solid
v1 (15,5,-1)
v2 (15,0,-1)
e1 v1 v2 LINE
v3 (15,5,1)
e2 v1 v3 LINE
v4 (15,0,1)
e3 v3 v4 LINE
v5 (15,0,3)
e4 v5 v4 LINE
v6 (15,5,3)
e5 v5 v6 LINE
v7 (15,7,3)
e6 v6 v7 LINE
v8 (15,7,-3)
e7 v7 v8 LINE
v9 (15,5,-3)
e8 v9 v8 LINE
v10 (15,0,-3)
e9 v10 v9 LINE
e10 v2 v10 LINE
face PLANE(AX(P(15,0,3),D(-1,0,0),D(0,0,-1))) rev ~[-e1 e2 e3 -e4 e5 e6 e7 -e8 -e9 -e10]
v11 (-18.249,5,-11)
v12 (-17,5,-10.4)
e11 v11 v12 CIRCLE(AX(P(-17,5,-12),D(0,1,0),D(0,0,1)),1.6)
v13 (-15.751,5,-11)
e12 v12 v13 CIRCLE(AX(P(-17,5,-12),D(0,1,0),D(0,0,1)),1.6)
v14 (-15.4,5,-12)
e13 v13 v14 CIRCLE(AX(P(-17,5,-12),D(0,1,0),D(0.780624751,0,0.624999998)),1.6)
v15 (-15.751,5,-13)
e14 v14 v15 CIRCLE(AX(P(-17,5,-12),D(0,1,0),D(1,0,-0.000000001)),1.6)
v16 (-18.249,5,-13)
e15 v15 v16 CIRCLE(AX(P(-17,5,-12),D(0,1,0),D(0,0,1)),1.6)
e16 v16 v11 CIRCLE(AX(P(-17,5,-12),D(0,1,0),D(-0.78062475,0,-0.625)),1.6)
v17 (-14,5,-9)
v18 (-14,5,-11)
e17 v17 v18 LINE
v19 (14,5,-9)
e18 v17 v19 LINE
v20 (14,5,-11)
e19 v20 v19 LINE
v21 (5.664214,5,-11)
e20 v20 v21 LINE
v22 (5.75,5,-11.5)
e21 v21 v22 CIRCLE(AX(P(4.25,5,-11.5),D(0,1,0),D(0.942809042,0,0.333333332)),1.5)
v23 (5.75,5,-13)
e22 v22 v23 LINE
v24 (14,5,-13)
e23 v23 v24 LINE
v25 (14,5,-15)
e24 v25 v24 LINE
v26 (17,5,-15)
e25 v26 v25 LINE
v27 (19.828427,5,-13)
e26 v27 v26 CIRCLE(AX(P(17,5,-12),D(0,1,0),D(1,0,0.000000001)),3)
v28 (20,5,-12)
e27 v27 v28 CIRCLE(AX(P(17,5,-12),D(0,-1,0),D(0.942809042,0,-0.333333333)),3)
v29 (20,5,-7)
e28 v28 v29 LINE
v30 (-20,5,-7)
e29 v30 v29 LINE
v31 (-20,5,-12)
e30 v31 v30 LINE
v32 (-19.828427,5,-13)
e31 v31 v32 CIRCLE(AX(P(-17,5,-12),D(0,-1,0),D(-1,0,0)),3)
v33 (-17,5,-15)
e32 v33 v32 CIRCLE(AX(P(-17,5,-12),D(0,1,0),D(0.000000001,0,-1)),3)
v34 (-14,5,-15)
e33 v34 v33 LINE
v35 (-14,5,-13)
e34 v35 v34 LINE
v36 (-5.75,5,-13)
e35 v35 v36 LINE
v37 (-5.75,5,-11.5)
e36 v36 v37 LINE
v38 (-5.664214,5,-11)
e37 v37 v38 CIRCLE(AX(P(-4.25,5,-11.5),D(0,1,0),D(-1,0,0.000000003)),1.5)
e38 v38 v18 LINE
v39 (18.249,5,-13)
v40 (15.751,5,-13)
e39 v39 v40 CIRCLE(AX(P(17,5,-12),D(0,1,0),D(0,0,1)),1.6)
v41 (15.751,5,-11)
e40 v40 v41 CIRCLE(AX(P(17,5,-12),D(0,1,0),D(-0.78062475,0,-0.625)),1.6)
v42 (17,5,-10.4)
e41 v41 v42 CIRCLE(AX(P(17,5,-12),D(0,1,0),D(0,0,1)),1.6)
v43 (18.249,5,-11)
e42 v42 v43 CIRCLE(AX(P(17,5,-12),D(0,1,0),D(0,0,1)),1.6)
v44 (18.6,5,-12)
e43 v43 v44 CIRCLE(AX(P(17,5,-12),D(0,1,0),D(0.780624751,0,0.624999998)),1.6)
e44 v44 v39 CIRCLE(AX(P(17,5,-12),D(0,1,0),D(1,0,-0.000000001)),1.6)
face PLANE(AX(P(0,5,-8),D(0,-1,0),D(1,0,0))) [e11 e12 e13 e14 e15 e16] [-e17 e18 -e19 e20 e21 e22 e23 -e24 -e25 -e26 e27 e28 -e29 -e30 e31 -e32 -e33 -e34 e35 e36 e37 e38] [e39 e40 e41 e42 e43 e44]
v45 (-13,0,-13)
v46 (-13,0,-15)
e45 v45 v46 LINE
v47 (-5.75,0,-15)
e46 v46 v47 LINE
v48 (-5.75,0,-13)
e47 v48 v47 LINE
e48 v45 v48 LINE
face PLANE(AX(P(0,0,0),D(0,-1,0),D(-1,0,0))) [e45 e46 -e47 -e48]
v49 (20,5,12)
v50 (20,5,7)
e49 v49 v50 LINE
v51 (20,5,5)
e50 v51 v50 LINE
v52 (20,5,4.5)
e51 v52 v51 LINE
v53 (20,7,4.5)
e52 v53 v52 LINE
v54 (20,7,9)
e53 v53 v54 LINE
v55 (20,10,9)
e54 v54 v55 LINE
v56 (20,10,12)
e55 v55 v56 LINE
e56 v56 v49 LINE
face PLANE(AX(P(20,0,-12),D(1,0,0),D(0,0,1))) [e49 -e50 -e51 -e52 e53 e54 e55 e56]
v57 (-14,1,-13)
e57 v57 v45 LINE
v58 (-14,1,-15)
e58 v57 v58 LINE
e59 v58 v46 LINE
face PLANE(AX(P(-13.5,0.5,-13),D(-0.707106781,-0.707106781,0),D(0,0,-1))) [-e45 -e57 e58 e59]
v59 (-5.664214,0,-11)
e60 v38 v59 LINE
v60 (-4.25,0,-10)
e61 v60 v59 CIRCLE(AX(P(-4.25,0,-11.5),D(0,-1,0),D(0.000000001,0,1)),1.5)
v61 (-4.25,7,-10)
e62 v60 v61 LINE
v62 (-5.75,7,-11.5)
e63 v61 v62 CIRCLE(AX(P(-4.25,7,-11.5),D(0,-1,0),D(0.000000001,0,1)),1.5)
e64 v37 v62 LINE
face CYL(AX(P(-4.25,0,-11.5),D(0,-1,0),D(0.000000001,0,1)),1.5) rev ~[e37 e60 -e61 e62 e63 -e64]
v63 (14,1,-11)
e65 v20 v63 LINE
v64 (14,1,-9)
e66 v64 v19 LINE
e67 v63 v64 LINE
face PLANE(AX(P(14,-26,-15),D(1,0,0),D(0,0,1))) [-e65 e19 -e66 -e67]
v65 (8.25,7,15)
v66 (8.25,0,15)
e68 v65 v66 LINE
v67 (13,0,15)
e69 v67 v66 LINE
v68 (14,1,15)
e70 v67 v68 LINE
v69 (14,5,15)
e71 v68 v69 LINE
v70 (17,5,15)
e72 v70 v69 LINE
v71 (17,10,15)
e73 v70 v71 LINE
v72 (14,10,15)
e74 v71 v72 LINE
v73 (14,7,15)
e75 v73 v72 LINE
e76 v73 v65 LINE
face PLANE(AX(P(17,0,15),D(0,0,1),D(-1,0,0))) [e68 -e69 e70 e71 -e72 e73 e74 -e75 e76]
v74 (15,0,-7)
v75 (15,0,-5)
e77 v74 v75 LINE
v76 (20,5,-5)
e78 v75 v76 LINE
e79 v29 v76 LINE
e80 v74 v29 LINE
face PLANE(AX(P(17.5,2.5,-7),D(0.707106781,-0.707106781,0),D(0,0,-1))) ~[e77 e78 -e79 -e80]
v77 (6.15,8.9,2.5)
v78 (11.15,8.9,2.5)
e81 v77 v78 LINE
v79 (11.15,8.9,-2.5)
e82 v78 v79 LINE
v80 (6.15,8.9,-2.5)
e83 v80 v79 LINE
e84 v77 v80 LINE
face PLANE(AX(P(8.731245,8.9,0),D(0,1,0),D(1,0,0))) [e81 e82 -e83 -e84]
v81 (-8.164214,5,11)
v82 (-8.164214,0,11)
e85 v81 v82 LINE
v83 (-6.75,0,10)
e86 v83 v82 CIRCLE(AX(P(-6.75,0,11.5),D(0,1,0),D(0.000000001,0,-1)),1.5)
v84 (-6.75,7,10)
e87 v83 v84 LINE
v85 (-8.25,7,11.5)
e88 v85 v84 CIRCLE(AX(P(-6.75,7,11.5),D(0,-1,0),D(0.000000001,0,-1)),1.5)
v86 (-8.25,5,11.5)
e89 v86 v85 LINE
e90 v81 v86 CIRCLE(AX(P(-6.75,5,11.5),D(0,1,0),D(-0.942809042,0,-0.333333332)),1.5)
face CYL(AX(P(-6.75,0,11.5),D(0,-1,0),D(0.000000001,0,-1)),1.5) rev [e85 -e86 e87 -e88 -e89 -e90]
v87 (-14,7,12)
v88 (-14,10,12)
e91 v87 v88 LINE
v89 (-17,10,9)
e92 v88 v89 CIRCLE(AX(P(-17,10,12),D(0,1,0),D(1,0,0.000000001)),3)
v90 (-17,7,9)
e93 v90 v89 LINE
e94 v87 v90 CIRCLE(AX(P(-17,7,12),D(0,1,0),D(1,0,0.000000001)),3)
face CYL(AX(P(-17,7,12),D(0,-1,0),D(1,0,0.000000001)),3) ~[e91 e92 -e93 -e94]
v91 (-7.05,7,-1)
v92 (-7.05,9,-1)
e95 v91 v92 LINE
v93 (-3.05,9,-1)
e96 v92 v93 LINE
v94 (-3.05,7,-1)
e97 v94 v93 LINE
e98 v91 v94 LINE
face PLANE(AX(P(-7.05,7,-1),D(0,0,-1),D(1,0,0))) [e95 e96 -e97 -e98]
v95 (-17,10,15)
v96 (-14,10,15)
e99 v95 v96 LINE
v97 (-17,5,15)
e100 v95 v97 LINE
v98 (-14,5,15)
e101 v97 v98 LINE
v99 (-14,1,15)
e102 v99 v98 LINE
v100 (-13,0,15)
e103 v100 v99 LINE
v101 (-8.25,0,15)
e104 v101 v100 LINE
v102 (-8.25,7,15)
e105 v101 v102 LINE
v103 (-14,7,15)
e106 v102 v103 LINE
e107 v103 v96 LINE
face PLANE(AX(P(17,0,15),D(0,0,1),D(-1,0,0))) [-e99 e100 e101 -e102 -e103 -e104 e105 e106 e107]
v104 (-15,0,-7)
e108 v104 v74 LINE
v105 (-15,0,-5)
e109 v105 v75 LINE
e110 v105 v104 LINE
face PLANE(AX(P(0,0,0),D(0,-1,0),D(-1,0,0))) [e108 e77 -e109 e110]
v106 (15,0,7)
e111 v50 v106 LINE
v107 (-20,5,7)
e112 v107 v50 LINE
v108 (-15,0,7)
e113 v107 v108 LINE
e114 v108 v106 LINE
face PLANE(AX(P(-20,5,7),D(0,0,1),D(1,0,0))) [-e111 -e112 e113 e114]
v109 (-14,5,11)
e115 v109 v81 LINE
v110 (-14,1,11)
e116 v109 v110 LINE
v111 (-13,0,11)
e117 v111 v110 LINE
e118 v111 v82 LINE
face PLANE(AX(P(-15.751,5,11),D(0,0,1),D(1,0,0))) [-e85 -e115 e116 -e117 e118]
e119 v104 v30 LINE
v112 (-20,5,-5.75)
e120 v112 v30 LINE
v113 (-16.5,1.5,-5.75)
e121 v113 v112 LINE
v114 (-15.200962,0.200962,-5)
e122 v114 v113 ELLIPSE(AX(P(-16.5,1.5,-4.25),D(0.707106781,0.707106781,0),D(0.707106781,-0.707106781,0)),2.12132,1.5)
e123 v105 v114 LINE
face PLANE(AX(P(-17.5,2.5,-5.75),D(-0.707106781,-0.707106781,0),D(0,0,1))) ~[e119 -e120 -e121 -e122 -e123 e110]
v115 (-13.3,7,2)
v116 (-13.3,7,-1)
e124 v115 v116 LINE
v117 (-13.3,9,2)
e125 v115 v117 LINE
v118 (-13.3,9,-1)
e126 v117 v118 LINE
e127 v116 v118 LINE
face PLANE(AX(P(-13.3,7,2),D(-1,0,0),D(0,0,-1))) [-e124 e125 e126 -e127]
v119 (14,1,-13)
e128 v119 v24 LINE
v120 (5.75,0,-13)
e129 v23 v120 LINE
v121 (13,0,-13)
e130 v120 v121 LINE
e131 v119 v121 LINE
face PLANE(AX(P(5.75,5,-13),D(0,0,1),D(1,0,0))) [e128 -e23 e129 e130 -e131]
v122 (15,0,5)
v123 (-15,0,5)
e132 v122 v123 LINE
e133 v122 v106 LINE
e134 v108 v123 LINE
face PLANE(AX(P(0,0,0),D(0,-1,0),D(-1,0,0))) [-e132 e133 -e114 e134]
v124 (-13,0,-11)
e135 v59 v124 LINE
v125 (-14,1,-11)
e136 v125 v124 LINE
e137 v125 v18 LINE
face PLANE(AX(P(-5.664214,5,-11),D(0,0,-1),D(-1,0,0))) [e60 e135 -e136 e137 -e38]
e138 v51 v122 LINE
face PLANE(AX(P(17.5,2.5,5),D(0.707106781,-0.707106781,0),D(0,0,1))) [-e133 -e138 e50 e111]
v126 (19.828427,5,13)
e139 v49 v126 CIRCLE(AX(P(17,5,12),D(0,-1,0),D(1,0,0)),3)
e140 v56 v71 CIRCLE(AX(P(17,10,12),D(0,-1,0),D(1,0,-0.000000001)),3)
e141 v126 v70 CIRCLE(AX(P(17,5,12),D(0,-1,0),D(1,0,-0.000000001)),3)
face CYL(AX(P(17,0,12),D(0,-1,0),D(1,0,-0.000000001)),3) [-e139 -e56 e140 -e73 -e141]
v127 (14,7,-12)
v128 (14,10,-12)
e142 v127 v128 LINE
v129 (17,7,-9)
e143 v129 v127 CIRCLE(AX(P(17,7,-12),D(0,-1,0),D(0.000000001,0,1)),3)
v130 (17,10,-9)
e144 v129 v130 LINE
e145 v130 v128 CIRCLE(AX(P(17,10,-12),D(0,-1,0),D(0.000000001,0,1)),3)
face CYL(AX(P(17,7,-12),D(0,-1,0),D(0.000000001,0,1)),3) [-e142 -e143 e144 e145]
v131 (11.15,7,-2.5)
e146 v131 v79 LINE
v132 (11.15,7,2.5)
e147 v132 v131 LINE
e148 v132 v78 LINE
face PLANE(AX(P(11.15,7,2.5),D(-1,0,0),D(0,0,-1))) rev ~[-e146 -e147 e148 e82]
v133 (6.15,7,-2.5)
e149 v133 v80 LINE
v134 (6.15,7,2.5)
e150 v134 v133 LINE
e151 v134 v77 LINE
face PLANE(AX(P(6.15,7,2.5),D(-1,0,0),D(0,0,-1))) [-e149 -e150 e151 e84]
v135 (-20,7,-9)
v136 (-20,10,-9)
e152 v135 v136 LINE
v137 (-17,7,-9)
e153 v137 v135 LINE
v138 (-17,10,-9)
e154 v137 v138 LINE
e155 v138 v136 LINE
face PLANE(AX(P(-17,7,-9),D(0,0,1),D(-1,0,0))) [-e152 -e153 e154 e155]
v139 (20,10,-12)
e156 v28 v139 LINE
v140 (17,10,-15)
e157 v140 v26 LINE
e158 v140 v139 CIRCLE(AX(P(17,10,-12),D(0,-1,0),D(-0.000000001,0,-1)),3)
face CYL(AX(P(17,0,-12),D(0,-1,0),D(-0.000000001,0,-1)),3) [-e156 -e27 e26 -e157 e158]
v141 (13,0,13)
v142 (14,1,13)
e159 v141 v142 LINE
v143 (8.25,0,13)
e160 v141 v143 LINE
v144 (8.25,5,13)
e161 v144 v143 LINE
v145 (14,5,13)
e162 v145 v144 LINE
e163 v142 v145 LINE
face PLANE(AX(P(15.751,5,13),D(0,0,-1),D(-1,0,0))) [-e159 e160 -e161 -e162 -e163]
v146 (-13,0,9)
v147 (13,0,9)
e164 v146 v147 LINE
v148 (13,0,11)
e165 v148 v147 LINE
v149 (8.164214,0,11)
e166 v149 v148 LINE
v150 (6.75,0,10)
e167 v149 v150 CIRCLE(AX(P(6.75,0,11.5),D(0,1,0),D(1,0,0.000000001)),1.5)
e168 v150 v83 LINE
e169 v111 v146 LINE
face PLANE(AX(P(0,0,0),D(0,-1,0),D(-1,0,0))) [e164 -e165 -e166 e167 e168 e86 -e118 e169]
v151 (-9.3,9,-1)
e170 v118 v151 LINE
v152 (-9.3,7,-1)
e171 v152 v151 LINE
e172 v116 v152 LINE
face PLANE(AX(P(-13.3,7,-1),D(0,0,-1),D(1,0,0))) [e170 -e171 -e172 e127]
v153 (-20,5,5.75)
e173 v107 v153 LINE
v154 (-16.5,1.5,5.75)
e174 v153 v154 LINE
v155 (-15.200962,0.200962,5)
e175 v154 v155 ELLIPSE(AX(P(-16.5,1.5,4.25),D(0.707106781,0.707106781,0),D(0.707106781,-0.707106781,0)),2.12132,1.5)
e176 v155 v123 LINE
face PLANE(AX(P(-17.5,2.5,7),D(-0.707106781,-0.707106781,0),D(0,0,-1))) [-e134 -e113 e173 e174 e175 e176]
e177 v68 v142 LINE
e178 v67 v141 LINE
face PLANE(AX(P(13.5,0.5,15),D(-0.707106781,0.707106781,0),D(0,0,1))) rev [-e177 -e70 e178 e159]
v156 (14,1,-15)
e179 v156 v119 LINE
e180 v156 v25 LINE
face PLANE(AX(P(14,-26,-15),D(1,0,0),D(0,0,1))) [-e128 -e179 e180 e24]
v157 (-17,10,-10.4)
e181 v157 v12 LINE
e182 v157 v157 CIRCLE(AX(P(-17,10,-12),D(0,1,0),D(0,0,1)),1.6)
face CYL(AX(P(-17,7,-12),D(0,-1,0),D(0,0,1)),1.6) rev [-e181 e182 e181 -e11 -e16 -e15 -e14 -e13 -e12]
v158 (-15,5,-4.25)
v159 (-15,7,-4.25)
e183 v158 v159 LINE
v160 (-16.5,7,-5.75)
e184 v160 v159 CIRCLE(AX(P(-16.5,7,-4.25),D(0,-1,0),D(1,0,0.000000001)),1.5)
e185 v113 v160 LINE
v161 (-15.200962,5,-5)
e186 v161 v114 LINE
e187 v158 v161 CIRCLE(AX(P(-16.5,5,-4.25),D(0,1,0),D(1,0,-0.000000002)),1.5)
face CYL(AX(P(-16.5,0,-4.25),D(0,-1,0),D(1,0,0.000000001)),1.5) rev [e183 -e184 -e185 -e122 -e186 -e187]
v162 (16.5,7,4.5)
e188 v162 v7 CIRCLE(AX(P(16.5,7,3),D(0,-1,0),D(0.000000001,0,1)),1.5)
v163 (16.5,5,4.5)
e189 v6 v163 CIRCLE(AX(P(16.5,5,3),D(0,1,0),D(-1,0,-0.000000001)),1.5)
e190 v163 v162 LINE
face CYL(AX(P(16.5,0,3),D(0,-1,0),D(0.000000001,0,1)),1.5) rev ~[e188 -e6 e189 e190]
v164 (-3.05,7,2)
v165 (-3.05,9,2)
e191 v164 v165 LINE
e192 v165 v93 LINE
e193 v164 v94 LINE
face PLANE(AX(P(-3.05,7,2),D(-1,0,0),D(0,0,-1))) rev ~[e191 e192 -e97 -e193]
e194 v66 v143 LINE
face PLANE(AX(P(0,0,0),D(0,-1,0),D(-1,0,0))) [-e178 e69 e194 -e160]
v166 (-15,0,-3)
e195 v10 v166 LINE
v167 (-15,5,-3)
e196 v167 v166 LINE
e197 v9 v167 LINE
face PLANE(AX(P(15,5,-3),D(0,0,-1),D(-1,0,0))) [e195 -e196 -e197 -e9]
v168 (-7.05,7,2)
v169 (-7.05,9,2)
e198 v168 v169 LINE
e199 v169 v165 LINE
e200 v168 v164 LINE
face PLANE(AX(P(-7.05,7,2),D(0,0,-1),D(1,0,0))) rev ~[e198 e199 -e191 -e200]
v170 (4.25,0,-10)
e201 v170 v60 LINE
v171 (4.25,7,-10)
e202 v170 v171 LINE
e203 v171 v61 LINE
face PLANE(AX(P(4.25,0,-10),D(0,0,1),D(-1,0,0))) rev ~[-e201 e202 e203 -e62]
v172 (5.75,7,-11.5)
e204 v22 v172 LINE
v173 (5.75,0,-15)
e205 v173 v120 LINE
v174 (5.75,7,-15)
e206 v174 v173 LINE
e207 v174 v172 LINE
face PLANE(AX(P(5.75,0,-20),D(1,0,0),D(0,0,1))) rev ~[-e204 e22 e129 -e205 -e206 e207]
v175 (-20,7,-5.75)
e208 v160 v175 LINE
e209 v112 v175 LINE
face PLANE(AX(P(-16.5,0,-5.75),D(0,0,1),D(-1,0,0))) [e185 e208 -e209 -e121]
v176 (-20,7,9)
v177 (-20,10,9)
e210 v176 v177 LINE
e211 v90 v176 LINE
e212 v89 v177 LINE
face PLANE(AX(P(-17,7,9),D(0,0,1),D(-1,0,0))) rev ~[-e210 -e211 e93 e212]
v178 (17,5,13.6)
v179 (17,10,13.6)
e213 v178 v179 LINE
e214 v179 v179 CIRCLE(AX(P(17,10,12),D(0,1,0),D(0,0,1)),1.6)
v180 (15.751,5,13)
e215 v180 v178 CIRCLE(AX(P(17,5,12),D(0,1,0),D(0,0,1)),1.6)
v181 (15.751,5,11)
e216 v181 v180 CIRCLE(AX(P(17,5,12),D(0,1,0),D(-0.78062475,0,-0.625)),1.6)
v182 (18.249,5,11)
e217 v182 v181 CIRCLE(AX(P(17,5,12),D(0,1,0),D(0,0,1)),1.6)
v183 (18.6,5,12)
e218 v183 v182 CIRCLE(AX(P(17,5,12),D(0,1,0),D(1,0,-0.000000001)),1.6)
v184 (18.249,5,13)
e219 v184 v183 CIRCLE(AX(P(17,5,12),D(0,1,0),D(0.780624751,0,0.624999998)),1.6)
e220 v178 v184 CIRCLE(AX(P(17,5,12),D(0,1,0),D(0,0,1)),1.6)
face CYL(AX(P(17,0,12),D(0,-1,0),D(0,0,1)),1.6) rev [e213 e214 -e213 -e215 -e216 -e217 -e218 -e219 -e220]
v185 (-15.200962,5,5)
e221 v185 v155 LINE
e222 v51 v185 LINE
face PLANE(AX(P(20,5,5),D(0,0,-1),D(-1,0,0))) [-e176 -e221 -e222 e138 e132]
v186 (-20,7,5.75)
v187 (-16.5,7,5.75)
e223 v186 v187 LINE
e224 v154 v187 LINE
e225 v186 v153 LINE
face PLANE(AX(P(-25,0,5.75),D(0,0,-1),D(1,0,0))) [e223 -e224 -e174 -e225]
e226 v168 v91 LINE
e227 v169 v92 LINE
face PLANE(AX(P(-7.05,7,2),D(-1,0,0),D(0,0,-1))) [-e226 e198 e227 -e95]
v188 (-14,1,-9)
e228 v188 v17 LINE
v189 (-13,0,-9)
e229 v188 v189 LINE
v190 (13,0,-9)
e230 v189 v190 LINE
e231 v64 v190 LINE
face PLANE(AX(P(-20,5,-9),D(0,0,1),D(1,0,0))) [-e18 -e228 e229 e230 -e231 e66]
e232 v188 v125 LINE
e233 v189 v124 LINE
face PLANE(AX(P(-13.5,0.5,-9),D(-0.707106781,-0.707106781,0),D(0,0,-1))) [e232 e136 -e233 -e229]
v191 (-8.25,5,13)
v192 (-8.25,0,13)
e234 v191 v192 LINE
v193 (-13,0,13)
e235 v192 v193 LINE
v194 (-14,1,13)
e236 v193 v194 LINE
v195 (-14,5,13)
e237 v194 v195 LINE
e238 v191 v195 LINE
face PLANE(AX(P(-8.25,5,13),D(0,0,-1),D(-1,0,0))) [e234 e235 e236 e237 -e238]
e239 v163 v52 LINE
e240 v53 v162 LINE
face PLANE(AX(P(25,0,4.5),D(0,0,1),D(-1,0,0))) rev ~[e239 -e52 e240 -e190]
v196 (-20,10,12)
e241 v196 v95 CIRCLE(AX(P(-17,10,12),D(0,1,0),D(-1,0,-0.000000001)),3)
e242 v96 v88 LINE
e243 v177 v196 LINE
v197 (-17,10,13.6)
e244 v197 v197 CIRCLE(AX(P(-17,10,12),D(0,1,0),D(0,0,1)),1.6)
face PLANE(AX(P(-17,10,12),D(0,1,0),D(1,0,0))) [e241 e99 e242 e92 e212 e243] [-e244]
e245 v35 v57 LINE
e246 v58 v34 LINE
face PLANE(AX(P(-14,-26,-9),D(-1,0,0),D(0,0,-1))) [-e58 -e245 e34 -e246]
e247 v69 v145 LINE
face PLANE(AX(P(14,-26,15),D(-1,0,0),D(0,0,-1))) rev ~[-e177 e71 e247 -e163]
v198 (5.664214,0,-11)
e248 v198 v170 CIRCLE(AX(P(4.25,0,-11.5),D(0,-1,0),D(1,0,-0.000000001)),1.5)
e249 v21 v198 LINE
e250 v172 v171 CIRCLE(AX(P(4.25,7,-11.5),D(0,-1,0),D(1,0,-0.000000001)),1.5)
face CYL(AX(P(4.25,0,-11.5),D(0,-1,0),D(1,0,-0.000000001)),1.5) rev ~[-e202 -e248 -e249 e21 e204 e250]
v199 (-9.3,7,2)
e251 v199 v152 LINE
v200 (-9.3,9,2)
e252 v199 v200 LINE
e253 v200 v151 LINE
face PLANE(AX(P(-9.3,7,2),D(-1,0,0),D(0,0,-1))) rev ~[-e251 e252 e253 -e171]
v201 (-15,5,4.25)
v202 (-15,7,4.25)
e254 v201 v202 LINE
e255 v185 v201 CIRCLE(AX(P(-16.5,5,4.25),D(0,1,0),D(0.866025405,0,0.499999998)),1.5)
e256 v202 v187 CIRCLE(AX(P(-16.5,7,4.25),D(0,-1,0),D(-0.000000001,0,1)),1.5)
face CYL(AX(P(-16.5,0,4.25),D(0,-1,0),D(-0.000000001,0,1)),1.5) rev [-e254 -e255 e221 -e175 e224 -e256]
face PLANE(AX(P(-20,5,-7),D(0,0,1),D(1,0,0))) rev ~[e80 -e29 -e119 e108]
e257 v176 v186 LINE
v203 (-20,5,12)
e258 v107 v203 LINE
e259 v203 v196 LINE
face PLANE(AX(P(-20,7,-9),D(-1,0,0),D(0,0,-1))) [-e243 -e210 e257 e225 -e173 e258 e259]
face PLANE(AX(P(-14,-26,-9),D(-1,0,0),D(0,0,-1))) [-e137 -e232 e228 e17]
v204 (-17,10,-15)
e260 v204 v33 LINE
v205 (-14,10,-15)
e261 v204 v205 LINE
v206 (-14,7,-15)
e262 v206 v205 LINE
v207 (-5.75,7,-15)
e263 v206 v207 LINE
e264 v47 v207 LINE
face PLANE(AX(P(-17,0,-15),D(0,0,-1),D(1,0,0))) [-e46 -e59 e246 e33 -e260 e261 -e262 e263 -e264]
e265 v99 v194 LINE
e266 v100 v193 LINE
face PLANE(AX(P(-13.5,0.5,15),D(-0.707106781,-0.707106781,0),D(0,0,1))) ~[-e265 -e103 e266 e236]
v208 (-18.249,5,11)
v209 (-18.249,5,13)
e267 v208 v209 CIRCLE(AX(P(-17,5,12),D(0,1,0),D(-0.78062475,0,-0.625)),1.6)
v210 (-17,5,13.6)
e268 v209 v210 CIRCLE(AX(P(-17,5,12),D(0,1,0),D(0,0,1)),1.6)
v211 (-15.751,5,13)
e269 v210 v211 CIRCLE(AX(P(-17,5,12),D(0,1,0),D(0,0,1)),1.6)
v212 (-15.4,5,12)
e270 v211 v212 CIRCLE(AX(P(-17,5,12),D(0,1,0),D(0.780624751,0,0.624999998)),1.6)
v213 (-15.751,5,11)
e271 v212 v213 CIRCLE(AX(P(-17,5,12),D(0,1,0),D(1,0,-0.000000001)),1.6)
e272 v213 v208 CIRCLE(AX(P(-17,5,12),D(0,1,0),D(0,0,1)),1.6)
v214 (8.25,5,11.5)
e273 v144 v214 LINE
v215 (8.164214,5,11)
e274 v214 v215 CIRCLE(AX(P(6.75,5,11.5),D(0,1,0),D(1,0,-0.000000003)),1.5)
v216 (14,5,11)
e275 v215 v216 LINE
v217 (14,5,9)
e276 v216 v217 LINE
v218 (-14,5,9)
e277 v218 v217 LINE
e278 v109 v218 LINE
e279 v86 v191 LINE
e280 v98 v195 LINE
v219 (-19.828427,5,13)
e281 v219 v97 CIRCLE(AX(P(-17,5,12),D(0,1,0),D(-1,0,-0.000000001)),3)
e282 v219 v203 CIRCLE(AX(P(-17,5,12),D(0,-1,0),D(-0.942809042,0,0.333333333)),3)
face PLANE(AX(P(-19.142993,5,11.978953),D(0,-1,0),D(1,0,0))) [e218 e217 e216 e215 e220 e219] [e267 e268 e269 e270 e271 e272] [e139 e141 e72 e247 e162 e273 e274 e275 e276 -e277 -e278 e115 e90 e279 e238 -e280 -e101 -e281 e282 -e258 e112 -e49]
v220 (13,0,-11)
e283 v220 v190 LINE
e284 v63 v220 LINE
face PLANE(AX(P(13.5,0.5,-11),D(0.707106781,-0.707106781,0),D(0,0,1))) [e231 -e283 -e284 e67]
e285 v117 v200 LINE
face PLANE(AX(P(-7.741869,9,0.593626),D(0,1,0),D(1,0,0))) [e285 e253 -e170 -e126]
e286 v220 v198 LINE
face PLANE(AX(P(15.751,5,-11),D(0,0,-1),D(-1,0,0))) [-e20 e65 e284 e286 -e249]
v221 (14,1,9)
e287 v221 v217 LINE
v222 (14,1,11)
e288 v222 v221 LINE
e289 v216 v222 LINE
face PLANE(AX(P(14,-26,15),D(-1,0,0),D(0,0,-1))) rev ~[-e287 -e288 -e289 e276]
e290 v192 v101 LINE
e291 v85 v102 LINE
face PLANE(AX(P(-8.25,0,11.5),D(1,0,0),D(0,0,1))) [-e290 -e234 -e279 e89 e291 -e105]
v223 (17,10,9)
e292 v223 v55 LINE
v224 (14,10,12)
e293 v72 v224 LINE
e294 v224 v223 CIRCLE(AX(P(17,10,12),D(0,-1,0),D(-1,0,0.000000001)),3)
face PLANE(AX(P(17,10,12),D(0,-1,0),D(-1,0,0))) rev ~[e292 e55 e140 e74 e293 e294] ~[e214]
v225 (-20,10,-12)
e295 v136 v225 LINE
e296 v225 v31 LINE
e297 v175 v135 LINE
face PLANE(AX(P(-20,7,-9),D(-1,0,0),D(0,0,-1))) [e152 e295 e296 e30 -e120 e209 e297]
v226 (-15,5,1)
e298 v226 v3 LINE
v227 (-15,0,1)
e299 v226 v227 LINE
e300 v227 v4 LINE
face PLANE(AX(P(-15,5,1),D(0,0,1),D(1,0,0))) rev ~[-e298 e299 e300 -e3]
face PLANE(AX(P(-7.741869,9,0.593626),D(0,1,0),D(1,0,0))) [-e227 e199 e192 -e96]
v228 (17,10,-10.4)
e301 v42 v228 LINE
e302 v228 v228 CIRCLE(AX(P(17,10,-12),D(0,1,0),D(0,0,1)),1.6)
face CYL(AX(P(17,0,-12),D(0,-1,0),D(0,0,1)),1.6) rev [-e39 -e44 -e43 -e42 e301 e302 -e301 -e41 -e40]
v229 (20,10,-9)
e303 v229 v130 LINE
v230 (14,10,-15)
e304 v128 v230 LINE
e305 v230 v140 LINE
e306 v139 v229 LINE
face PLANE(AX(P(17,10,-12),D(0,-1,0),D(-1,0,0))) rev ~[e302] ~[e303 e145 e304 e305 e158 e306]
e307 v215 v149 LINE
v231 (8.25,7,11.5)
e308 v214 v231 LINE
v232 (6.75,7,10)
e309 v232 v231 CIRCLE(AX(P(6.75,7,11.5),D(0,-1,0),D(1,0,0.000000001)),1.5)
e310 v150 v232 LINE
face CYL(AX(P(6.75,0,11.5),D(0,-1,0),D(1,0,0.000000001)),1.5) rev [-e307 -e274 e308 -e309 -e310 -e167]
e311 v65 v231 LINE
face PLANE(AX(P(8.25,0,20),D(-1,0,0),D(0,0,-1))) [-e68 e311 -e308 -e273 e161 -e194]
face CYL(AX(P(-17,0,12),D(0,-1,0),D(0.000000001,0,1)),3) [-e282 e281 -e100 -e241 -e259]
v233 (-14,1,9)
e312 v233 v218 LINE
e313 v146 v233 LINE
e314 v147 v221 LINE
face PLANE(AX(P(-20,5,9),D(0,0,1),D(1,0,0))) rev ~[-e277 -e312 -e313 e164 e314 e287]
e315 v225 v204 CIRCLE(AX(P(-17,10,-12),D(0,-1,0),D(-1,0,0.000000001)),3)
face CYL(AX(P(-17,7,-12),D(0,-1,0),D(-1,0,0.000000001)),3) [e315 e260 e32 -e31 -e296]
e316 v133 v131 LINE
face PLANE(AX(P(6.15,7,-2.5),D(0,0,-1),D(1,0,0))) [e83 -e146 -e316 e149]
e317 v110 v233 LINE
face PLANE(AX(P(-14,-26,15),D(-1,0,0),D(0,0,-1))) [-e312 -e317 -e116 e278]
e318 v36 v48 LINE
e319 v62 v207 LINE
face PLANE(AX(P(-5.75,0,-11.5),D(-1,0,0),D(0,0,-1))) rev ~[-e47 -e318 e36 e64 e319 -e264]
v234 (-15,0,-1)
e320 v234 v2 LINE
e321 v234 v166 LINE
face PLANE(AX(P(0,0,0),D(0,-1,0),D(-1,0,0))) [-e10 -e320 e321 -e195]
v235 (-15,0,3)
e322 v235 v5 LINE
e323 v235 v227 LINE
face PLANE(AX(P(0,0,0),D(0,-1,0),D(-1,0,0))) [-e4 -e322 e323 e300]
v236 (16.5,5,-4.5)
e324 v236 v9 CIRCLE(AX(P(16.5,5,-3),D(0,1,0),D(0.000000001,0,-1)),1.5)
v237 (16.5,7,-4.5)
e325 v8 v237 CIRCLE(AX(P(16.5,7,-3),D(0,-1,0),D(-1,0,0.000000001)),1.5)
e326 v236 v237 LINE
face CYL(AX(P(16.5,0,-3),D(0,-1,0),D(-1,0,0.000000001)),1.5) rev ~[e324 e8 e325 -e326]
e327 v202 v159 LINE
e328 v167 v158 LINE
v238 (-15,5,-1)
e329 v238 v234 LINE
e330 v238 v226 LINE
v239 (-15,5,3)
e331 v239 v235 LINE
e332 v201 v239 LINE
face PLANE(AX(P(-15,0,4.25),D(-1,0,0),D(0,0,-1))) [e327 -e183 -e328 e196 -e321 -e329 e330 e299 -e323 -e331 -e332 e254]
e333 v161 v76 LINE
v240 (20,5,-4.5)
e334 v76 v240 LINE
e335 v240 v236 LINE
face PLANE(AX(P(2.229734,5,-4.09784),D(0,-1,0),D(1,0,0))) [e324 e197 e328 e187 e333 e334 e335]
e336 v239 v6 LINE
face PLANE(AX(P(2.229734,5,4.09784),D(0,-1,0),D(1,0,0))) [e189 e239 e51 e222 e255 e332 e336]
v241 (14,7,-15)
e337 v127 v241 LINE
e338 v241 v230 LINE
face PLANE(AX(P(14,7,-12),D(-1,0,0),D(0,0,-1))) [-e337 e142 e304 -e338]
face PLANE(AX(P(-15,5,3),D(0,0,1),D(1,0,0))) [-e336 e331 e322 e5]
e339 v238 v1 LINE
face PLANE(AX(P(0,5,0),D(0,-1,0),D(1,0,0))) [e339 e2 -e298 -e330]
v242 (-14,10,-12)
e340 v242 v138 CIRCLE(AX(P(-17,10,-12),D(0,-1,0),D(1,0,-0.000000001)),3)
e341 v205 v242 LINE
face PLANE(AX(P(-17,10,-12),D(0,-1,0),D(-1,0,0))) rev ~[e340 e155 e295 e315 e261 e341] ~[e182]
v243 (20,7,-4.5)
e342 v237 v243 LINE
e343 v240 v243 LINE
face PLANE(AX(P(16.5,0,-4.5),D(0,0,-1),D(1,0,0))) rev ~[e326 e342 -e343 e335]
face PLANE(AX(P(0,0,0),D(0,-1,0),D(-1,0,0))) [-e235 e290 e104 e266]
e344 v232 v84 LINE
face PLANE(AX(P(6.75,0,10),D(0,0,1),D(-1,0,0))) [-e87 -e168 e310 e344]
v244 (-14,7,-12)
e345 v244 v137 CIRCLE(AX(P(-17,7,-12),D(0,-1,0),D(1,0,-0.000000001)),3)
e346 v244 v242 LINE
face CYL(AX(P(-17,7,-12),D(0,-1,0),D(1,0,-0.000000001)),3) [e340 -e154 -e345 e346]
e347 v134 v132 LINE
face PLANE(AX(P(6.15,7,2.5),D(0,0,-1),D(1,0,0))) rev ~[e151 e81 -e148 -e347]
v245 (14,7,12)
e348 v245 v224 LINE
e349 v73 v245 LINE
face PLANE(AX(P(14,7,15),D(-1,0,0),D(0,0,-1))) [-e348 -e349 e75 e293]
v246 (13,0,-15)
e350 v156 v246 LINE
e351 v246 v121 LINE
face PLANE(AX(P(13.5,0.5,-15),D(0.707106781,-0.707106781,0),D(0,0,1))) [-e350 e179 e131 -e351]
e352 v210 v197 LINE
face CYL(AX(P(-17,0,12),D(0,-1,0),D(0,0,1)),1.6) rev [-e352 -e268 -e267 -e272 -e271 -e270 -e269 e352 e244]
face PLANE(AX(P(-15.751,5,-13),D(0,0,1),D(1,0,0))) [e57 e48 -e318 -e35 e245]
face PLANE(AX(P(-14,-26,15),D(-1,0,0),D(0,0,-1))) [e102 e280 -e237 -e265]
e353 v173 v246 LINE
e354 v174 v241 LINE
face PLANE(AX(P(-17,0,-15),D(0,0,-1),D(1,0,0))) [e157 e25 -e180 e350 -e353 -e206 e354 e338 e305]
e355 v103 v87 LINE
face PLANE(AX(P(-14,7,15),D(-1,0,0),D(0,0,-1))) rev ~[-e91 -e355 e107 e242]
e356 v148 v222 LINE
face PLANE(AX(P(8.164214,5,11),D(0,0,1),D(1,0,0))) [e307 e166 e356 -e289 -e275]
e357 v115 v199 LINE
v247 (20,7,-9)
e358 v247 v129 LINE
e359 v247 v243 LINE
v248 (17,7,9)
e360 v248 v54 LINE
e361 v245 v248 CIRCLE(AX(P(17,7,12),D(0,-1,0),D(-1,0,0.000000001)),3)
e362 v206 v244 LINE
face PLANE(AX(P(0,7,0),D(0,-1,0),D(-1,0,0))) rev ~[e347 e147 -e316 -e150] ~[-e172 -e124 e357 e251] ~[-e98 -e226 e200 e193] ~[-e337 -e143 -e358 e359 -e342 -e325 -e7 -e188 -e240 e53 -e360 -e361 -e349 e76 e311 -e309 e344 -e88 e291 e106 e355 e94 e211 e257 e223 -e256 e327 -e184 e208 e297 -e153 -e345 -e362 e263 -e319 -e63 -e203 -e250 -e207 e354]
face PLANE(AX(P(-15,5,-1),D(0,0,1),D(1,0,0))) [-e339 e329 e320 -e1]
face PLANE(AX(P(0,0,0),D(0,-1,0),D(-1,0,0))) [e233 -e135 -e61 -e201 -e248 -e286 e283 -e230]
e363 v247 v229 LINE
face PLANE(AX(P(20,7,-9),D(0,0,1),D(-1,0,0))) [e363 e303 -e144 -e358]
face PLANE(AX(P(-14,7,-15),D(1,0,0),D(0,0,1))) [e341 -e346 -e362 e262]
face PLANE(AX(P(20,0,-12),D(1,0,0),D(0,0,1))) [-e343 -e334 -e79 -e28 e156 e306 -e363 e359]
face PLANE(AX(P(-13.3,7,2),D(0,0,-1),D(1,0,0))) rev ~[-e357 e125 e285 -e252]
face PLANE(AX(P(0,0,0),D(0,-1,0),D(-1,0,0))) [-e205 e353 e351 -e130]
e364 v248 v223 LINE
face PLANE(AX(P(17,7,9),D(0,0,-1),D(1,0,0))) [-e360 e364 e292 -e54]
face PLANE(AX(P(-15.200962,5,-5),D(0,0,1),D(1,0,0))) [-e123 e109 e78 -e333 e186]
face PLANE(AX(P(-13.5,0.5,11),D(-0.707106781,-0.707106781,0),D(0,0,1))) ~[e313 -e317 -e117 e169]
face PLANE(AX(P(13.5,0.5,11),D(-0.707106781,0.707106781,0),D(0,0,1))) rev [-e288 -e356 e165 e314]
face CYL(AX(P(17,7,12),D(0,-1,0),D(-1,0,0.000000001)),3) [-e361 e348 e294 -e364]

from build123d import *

# Parameters (mm, degrees)
SKETCH_1_R          = 1.6
EXTRUDE_1_DEPTH     = 7
SKETCH_2_R          = 1.6
SKETCH_2_W          = 5
SKETCH_2_H          = 5
SKETCH_2_W_2        = 4
SKETCH_2_H_2        = 3
EXTRUDE_2_DEPTH     = 3
CUT_EXTRUDE_1_DEPTH = 31
CUT_EXTRUDE_START   = -5
SKETCH_5_W          = 40
SKETCH_5_H          = 2
SKETCH_5_W_2        = 30
CUT_EXTRUDE_2_DEPTH = 5
CUT_EXTRUDE_START_2 = -31
SKETCH_6_R          = 1.6
CUT_EXTRUDE_3_DEPTH = 31
CHAMFER_1_SIZE      = 5
CHAMFER_2_SIZE      = 5
CHAMFER_3_SIZE      = 1
SKETCH_7_W          = 9.893762321
SKETCH_7_H          = 9.992699944
CUT_EXTRUDE_4_DEPTH = 1.1
SKETCH_8_W          = 19.688587018
SKETCH_8_H          = 7.420321741
CUT_EXTRUDE_5_DEPTH = 1


with BuildPart() as part:
    # Эскиз1 → Бобышка-Вытянуть1 (new body)
    with BuildSketch(Plane(origin=(0, 0, 0), x_dir=(1, 0, 0), z_dir=(0, 1, 0))):
        with BuildLine():
            Line((-17, 15), (17, 15))
            ThreePointArc((17, 15), (19.121320344, 14.121320344), (20, 12))
            Line((20, 12), (20, -12))
            ThreePointArc((20, -12), (19.121320344, -14.121320344), (17, -15))
            Line((17, -15), (-17, -15))
            ThreePointArc((-17, -15), (-19.121320344, -14.121320344), (-20, -12))
            Line((-20, -12), (-20, 12))
            ThreePointArc((-20, 12), (-19.121320344, 14.121320344), (-17, 15))
        make_face()
        with Locations(Location((-17, 12, 0), (0, 0, 270))):
            Circle(SKETCH_1_R, mode=Mode.SUBTRACT)
        with Locations(Location((17, 12, 0), (0, 0, 270))):
            Circle(SKETCH_1_R, mode=Mode.SUBTRACT)
        with Locations(Location((17, -12, 0), (0, 0, 270))):
            Circle(SKETCH_1_R, mode=Mode.SUBTRACT)
        with Locations(Location((-17, -12, 0), (0, 0, 270))):
            Circle(SKETCH_1_R, mode=Mode.SUBTRACT)
    extrude(amount=EXTRUDE_1_DEPTH)

    # Эскиз2 → Бобышка-Вытянуть2 (add)
    # profile 1 of 7: a face of its own
    with BuildSketch(Plane(origin=(0, 7, 0), x_dir=(1, 0, 0), z_dir=(0, 1, 0))):
        with BuildLine():
            Line((-17, 9), (-20, 9))
            Line((-20, 9), (-20, 12))
            ThreePointArc((-20, 12), (-19.121320344, 14.121320344), (-17, 15))
            Line((-17, 15), (-14, 15))
            Line((-14, 15), (-14, 12))
            ThreePointArc((-14, 12), (-14.878679656, 9.878679656), (-17, 9))
        make_face()
        with Locations(Location((-17, 12, 0), (0, 0, 270))):
            Circle(SKETCH_2_R, mode=Mode.SUBTRACT)
    # profile 2 of 7: a face of its own
    with BuildSketch(Plane(origin=(0, 7, 0), x_dir=(1, 0, 0), z_dir=(0, 1, 0))):
        with BuildLine():
            Line((14, 12), (14, 15))
            Line((14, 15), (17, 15))
            ThreePointArc((17, 15), (19.121320344, 14.121320344), (20, 12))
            Line((20, 12), (20, 9))
            Line((20, 9), (17, 9))
            ThreePointArc((17, 9), (14.878679656, 9.878679656), (14, 12))
        make_face()
        with Locations(Location((17, 12, 0), (0, 0, 270))):
            Circle(SKETCH_2_R, mode=Mode.SUBTRACT)
    # profile 3 of 7: a face of its own
    with BuildSketch(Plane(origin=(0, 7, 0), x_dir=(1, 0, 0), z_dir=(0, 1, 0))):
        with BuildLine():
            Line((17, -9), (20, -9))
            Line((20, -9), (20, -12))
            ThreePointArc((20, -12), (19.121320344, -14.121320344), (17, -15))
            Line((17, -15), (14, -15))
            Line((14, -15), (14, -12))
            ThreePointArc((14, -12), (14.878679656, -9.878679656), (17, -9))
        make_face()
        with Locations(Location((17, -12, 0), (0, 0, 270))):
            Circle(SKETCH_2_R, mode=Mode.SUBTRACT)
    # profile 4 of 7: a face of its own
    with BuildSketch(Plane(origin=(0, 7, 0), x_dir=(1, 0, 0), z_dir=(0, 1, 0))):
        with BuildLine():
            Line((-17, -9), (-20, -9))
            Line((-20, -9), (-20, -12))
            ThreePointArc((-20, -12), (-19.121320344, -14.121320344), (-17, -15))
            Line((-17, -15), (-14, -15))
            Line((-14, -15), (-14, -12))
            ThreePointArc((-14, -12), (-14.878679656, -9.878679656), (-17, -9))
        make_face()
        with Locations(Location((-17, -12, 0), (0, 0, 270))):
            Circle(SKETCH_2_R, mode=Mode.SUBTRACT)
    # profile 5 of 7: a face of its own
    with BuildSketch(Plane(origin=(0, 7, 0), x_dir=(1, 0, 0), z_dir=(0, 1, 0))):
        with Locations((8.65, 0)):
            Rectangle(SKETCH_2_W, SKETCH_2_H)
    # profile 6 of 7: a face of its own
    with BuildSketch(Plane(origin=(0, 7, 0), x_dir=(1, 0, 0), z_dir=(0, 1, 0))):
        with Locations((-5.05, -0.5)):
            Rectangle(SKETCH_2_W_2, SKETCH_2_H_2)
    # profile 7 of 7: a face of its own
    with BuildSketch(Plane(origin=(0, 7, 0), x_dir=(1, 0, 0), z_dir=(0, 1, 0))):
        with Locations((-11.3, -0.5)):
            Rectangle(SKETCH_2_W_2, SKETCH_2_H_2)
    extrude(amount=EXTRUDE_2_DEPTH)

    # Эскиз4 → Вырез-Вытянуть1 (cut)
    with BuildSketch(Plane.XZ):
        with BuildLine():
            Line((-5.75, -20), (5.75, -20))
            Line((5.75, -20), (5.75, -11.5))
            ThreePointArc((5.75, -11.5), (5.310660172, -10.439339828), (4.25, -10))
            Line((4.25, -10), (-4.25, -10))
            ThreePointArc((-4.25, -10), (-5.310660172, -10.439339828), (-5.75, -11.5))
            Line((-5.75, -11.5), (-5.75, -20))
        make_face()
        with BuildLine():
            Line((-25, 5.75), (-16.5, 5.75))
            ThreePointArc((-16.5, 5.75), (-15.439339828, 5.310660172), (-15, 4.25))
            Line((-15, 4.25), (-15, -4.25))
            ThreePointArc((-15, -4.25), (-15.439339828, -5.310660172), (-16.5, -5.75))
            Line((-16.5, -5.75), (-25, -5.75))
            Line((-25, -5.75), (-25, 5.75))
        make_face()
        with BuildLine():
            Line((-8.25, 20), (8.25, 20))
            Line((8.25, 20), (8.25, 11.5))
            ThreePointArc((8.25, 11.5), (7.810660172, 10.439339828), (6.75, 10))
            Line((6.75, 10), (-6.75, 10))
            ThreePointArc((-6.75, 10), (-7.810660172, 10.439339828), (-8.25, 11.5))
            Line((-8.25, 11.5), (-8.25, 20))
        make_face()
        with BuildLine():
            Line((25, 4.5), (16.5, 4.5))
            ThreePointArc((16.5, 4.5), (15.439339828, 4.060660172), (15, 3))
            Line((15, 3), (15, -3))
            ThreePointArc((15, -3), (15.439339828, -4.060660172), (16.5, -4.5))
            Line((16.5, -4.5), (25, -4.5))
            Line((25, -4.5), (25, 4.5))
        make_face()
    extrude(amount=-CUT_EXTRUDE_1_DEPTH, mode=Mode.SUBTRACT)

    # Эскиз5 → Вырез-Вытянуть2 (cut)
    with BuildSketch(Plane.XZ.offset(CUT_EXTRUDE_START)):
        with BuildLine():
            Line((-5.664213562, -11), (-15.7510004, -11))
            ThreePointArc((-15.7510004, -11), (-15.490298149, -11.470094046), (-15.4, -12))
            ThreePointArc((-15.4, -12), (-15.490298149, -12.529905954), (-15.7510004, -13))
            Line((-15.7510004, -13), (-5.75, -13))
            Line((-5.75, -13), (-5.75, -11.5))
            ThreePointArc((-5.75, -11.5), (-5.728397839, -11.246347032), (-5.664213562, -11))
        make_face()
        with BuildLine():
            ThreePointArc((15.7510004, -13), (15.4, -12), (15.7510004, -11))
            Line((15.7510004, -11), (5.664213562, -11))
            ThreePointArc((5.664213562, -11), (5.728397839, -11.246347032), (5.75, -11.5))
            Line((5.75, -11.5), (5.75, -13))
            Line((5.75, -13), (15.7510004, -13))
        make_face()
        with BuildLine():
            Line((20, -12), (20, -11))
            Line((20, -11), (18.2489996, -11))
            ThreePointArc((18.2489996, -11), (18.509701851, -11.470094046), (18.6, -12))
            ThreePointArc((18.6, -12), (18.509701851, -12.529905954), (18.2489996, -13))
            Line((18.2489996, -13), (19.828427125, -13))
            ThreePointArc((19.828427125, -13), (19.956795679, -12.507305936), (20, -12))
        make_face()
        with BuildLine():
            Line((-18.2489996, -11), (-20, -11))
            Line((-20, -11), (-20, -12))
            ThreePointArc((-20, -12), (-19.956795679, -12.507305936), (-19.828427125, -13))
            Line((-19.828427125, -13), (-18.2489996, -13))
            ThreePointArc((-18.2489996, -13), (-18.6, -12), (-18.2489996, -11))
        make_face()
        with Locations((0, -8)):
            Rectangle(SKETCH_5_W, SKETCH_5_H)
        with BuildLine():
            Line((15, -3), (-15, -3))
            Line((-15, -3), (-15, -4.25))
            ThreePointArc((-15, -4.25), (-15.051111261, -4.638228568), (-15.200961894, -5))
            Line((-15.200961894, -5), (20, -5))
            Line((20, -5), (20, -4.5))
            Line((20, -4.5), (16.5, -4.5))
            ThreePointArc((16.5, -4.5), (15.439339828, -4.060660172), (15, -3))
        make_face()
        Rectangle(SKETCH_5_W_2, SKETCH_5_H)
        with BuildLine():
            Line((20, 5), (-15.200961894, 5))
            ThreePointArc((-15.200961894, 5), (-15.051111261, 4.638228568), (-15, 4.25))
            Line((-15, 4.25), (-15, 3))
            Line((-15, 3), (15, 3))
            ThreePointArc((15, 3), (15.439339828, 4.060660172), (16.5, 4.5))
            Line((16.5, 4.5), (20, 4.5))
            Line((20, 4.5), (20, 5))
        make_face()
        with Locations((0, 8)):
            Rectangle(SKETCH_5_W, SKETCH_5_H)
        with BuildLine():
            ThreePointArc((-15.4, 12), (-15.490298149, 11.470094046), (-15.7510004, 11))
            Line((-15.7510004, 11), (-8.164213562, 11))
            ThreePointArc((-8.164213562, 11), (-8.228397839, 11.246347032), (-8.25, 11.5))
            Line((-8.25, 11.5), (-8.25, 13))
            Line((-8.25, 13), (-15.7510004, 13))
            ThreePointArc((-15.7510004, 13), (-15.490298149, 12.529905954), (-15.4, 12))
        make_face()
        with BuildLine():
            Line((-20, 12), (-20, 11))
            Line((-20, 11), (-18.2489996, 11))
            ThreePointArc((-18.2489996, 11), (-18.6, 12), (-18.2489996, 13))
            Line((-18.2489996, 13), (-19.828427125, 13))
            ThreePointArc((-19.828427125, 13), (-19.956795679, 12.507305936), (-20, 12))
        make_face()
        with BuildLine():
            Line((8.164213562, 11), (15.7510004, 11))
            ThreePointArc((15.7510004, 11), (15.4, 12), (15.7510004, 13))
            Line((15.7510004, 13), (8.25, 13))
            Line((8.25, 13), (8.25, 11.5))
            ThreePointArc((8.25, 11.5), (8.228397839, 11.246347032), (8.164213562, 11))
        make_face()
        with BuildLine():
            Line((18.2489996, 11), (20, 11))
            Line((20, 11), (20, 12))
            ThreePointArc((20, 12), (19.956795679, 12.507305936), (19.828427125, 13))
            Line((19.828427125, 13), (18.2489996, 13))
            ThreePointArc((18.2489996, 13), (18.509701851, 12.529905954), (18.6, 12))
            ThreePointArc((18.6, 12), (18.509701851, 11.470094046), (18.2489996, 11))
        make_face()
    extrude(amount=CUT_EXTRUDE_2_DEPTH, mode=Mode.SUBTRACT)

    # Эскиз6 → Вырез-Вытянуть3 (cut)
    # profile 1 of 4: a face of its own
    with BuildSketch(Plane(origin=(0, 5, 0), x_dir=(1, 0, 0), z_dir=(0, 1, 0)).offset(CUT_EXTRUDE_START_2)):
        with BuildLine():
            Line((14, 12), (14, 9))
            Line((14, 9), (17, 9))
            Line((17, 9), (20, 9))
            Line((20, 9), (20, 12))
            ThreePointArc((20, 12), (19.121320344, 14.121320344), (17, 15))
            Line((17, 15), (14, 15))
            Line((14, 15), (14, 12))
        make_face()
        with Locations(Location((17, 12, 0), (0, 0, 270))):
            Circle(SKETCH_6_R, mode=Mode.SUBTRACT)
    # profile 2 of 4: a face of its own
    with BuildSketch(Plane(origin=(0, 5, 0), x_dir=(1, 0, 0), z_dir=(0, 1, 0)).offset(CUT_EXTRUDE_START_2)):
        with BuildLine():
            Line((14, -12), (14, -9))
            Line((14, -9), (17, -9))
            Line((17, -9), (20, -9))
            Line((20, -9), (20, -12))
            ThreePointArc((20, -12), (19.121320344, -14.121320344), (17, -15))
            Line((17, -15), (14, -15))
            Line((14, -15), (14, -12))
        make_face()
        with Locations(Location((17, -12, 0), (0, 0, 270))):
            Circle(SKETCH_6_R, mode=Mode.SUBTRACT)
    # profile 3 of 4: a face of its own
    with BuildSketch(Plane(origin=(0, 5, 0), x_dir=(1, 0, 0), z_dir=(0, 1, 0)).offset(CUT_EXTRUDE_START_2)):
        with BuildLine():
            Line((-20, 9), (-17, 9))
            Line((-17, 9), (-14, 9))
            Line((-14, 9), (-14, 12))
            Line((-14, 12), (-14, 15))
            Line((-14, 15), (-17, 15))
            ThreePointArc((-17, 15), (-19.121320344, 14.121320344), (-20, 12))
            Line((-20, 12), (-20, 9))
        make_face()
        with Locations(Location((-17, 12, 0), (0, 0, 270))):
            Circle(SKETCH_6_R, mode=Mode.SUBTRACT)
    # profile 4 of 4: a face of its own
    with BuildSketch(Plane(origin=(0, 5, 0), x_dir=(1, 0, 0), z_dir=(0, 1, 0)).offset(CUT_EXTRUDE_START_2)):
        with BuildLine():
            Line((-14, -15), (-14, -12))
            Line((-14, -12), (-14, -9))
            Line((-14, -9), (-17, -9))
            Line((-17, -9), (-20, -9))
            Line((-20, -9), (-20, -12))
            ThreePointArc((-20, -12), (-19.121320344, -14.121320344), (-17, -15))
            Line((-17, -15), (-14, -15))
        make_face()
        with Locations(Location((-17, -12, 0), (0, 0, 270))):
            Circle(SKETCH_6_R, mode=Mode.SUBTRACT)
    extrude(amount=CUT_EXTRUDE_3_DEPTH, mode=Mode.SUBTRACT)

    # Фаска1
    chamfer_1_edges = [part.edges().sort_by_distance(p)[0] for p in [
        (20, 0, 6),
        (20, 0, -6),
    ]]
    chamfer(chamfer_1_edges, length=CHAMFER_1_SIZE)

    # Фаска2
    chamfer_2_edges = [part.edges().sort_by_distance(p)[0] for p in [
        (-20, 0, 6.375),
        (-20, 0, -6.375),
    ]]
    chamfer(chamfer_2_edges, length=CHAMFER_2_SIZE)

    # Фаска3
    chamfer_3_edges = [part.edges().sort_by_distance(p)[0] for p in [
        (-14, 0, 10),
        (-14, 0, 14),
        (14, 0, -14),
        (14, 0, -10),
        (14, 0, 10),
        (14, 0, 14),
        (-14, 0, -14),
        (-14, 0, -10),
    ]]
    chamfer(chamfer_3_edges, length=CHAMFER_3_SIZE)

    # Эскиз7 → Вырез-Вытянуть4 (cut)
    with BuildSketch(Plane(origin=(0, 10, 0), x_dir=(1, 0, 0), z_dir=(0, 1, 0))):
        with Locations((8.731245249, 0)):
            Rectangle(SKETCH_7_W, SKETCH_7_H)
    extrude(amount=-CUT_EXTRUDE_4_DEPTH, mode=Mode.SUBTRACT)

    # Эскиз8 → Вырез-Вытянуть5 (cut)
    with BuildSketch(Plane(origin=(0, 10, 0), x_dir=(1, 0, 0), z_dir=(0, 1, 0))):
        with Locations((-7.741869016, -0.59362574)):
            Rectangle(SKETCH_8_W, SKETCH_8_H)
    extrude(amount=-CUT_EXTRUDE_5_DEPTH, mode=Mode.SUBTRACT)


solid = part.part
